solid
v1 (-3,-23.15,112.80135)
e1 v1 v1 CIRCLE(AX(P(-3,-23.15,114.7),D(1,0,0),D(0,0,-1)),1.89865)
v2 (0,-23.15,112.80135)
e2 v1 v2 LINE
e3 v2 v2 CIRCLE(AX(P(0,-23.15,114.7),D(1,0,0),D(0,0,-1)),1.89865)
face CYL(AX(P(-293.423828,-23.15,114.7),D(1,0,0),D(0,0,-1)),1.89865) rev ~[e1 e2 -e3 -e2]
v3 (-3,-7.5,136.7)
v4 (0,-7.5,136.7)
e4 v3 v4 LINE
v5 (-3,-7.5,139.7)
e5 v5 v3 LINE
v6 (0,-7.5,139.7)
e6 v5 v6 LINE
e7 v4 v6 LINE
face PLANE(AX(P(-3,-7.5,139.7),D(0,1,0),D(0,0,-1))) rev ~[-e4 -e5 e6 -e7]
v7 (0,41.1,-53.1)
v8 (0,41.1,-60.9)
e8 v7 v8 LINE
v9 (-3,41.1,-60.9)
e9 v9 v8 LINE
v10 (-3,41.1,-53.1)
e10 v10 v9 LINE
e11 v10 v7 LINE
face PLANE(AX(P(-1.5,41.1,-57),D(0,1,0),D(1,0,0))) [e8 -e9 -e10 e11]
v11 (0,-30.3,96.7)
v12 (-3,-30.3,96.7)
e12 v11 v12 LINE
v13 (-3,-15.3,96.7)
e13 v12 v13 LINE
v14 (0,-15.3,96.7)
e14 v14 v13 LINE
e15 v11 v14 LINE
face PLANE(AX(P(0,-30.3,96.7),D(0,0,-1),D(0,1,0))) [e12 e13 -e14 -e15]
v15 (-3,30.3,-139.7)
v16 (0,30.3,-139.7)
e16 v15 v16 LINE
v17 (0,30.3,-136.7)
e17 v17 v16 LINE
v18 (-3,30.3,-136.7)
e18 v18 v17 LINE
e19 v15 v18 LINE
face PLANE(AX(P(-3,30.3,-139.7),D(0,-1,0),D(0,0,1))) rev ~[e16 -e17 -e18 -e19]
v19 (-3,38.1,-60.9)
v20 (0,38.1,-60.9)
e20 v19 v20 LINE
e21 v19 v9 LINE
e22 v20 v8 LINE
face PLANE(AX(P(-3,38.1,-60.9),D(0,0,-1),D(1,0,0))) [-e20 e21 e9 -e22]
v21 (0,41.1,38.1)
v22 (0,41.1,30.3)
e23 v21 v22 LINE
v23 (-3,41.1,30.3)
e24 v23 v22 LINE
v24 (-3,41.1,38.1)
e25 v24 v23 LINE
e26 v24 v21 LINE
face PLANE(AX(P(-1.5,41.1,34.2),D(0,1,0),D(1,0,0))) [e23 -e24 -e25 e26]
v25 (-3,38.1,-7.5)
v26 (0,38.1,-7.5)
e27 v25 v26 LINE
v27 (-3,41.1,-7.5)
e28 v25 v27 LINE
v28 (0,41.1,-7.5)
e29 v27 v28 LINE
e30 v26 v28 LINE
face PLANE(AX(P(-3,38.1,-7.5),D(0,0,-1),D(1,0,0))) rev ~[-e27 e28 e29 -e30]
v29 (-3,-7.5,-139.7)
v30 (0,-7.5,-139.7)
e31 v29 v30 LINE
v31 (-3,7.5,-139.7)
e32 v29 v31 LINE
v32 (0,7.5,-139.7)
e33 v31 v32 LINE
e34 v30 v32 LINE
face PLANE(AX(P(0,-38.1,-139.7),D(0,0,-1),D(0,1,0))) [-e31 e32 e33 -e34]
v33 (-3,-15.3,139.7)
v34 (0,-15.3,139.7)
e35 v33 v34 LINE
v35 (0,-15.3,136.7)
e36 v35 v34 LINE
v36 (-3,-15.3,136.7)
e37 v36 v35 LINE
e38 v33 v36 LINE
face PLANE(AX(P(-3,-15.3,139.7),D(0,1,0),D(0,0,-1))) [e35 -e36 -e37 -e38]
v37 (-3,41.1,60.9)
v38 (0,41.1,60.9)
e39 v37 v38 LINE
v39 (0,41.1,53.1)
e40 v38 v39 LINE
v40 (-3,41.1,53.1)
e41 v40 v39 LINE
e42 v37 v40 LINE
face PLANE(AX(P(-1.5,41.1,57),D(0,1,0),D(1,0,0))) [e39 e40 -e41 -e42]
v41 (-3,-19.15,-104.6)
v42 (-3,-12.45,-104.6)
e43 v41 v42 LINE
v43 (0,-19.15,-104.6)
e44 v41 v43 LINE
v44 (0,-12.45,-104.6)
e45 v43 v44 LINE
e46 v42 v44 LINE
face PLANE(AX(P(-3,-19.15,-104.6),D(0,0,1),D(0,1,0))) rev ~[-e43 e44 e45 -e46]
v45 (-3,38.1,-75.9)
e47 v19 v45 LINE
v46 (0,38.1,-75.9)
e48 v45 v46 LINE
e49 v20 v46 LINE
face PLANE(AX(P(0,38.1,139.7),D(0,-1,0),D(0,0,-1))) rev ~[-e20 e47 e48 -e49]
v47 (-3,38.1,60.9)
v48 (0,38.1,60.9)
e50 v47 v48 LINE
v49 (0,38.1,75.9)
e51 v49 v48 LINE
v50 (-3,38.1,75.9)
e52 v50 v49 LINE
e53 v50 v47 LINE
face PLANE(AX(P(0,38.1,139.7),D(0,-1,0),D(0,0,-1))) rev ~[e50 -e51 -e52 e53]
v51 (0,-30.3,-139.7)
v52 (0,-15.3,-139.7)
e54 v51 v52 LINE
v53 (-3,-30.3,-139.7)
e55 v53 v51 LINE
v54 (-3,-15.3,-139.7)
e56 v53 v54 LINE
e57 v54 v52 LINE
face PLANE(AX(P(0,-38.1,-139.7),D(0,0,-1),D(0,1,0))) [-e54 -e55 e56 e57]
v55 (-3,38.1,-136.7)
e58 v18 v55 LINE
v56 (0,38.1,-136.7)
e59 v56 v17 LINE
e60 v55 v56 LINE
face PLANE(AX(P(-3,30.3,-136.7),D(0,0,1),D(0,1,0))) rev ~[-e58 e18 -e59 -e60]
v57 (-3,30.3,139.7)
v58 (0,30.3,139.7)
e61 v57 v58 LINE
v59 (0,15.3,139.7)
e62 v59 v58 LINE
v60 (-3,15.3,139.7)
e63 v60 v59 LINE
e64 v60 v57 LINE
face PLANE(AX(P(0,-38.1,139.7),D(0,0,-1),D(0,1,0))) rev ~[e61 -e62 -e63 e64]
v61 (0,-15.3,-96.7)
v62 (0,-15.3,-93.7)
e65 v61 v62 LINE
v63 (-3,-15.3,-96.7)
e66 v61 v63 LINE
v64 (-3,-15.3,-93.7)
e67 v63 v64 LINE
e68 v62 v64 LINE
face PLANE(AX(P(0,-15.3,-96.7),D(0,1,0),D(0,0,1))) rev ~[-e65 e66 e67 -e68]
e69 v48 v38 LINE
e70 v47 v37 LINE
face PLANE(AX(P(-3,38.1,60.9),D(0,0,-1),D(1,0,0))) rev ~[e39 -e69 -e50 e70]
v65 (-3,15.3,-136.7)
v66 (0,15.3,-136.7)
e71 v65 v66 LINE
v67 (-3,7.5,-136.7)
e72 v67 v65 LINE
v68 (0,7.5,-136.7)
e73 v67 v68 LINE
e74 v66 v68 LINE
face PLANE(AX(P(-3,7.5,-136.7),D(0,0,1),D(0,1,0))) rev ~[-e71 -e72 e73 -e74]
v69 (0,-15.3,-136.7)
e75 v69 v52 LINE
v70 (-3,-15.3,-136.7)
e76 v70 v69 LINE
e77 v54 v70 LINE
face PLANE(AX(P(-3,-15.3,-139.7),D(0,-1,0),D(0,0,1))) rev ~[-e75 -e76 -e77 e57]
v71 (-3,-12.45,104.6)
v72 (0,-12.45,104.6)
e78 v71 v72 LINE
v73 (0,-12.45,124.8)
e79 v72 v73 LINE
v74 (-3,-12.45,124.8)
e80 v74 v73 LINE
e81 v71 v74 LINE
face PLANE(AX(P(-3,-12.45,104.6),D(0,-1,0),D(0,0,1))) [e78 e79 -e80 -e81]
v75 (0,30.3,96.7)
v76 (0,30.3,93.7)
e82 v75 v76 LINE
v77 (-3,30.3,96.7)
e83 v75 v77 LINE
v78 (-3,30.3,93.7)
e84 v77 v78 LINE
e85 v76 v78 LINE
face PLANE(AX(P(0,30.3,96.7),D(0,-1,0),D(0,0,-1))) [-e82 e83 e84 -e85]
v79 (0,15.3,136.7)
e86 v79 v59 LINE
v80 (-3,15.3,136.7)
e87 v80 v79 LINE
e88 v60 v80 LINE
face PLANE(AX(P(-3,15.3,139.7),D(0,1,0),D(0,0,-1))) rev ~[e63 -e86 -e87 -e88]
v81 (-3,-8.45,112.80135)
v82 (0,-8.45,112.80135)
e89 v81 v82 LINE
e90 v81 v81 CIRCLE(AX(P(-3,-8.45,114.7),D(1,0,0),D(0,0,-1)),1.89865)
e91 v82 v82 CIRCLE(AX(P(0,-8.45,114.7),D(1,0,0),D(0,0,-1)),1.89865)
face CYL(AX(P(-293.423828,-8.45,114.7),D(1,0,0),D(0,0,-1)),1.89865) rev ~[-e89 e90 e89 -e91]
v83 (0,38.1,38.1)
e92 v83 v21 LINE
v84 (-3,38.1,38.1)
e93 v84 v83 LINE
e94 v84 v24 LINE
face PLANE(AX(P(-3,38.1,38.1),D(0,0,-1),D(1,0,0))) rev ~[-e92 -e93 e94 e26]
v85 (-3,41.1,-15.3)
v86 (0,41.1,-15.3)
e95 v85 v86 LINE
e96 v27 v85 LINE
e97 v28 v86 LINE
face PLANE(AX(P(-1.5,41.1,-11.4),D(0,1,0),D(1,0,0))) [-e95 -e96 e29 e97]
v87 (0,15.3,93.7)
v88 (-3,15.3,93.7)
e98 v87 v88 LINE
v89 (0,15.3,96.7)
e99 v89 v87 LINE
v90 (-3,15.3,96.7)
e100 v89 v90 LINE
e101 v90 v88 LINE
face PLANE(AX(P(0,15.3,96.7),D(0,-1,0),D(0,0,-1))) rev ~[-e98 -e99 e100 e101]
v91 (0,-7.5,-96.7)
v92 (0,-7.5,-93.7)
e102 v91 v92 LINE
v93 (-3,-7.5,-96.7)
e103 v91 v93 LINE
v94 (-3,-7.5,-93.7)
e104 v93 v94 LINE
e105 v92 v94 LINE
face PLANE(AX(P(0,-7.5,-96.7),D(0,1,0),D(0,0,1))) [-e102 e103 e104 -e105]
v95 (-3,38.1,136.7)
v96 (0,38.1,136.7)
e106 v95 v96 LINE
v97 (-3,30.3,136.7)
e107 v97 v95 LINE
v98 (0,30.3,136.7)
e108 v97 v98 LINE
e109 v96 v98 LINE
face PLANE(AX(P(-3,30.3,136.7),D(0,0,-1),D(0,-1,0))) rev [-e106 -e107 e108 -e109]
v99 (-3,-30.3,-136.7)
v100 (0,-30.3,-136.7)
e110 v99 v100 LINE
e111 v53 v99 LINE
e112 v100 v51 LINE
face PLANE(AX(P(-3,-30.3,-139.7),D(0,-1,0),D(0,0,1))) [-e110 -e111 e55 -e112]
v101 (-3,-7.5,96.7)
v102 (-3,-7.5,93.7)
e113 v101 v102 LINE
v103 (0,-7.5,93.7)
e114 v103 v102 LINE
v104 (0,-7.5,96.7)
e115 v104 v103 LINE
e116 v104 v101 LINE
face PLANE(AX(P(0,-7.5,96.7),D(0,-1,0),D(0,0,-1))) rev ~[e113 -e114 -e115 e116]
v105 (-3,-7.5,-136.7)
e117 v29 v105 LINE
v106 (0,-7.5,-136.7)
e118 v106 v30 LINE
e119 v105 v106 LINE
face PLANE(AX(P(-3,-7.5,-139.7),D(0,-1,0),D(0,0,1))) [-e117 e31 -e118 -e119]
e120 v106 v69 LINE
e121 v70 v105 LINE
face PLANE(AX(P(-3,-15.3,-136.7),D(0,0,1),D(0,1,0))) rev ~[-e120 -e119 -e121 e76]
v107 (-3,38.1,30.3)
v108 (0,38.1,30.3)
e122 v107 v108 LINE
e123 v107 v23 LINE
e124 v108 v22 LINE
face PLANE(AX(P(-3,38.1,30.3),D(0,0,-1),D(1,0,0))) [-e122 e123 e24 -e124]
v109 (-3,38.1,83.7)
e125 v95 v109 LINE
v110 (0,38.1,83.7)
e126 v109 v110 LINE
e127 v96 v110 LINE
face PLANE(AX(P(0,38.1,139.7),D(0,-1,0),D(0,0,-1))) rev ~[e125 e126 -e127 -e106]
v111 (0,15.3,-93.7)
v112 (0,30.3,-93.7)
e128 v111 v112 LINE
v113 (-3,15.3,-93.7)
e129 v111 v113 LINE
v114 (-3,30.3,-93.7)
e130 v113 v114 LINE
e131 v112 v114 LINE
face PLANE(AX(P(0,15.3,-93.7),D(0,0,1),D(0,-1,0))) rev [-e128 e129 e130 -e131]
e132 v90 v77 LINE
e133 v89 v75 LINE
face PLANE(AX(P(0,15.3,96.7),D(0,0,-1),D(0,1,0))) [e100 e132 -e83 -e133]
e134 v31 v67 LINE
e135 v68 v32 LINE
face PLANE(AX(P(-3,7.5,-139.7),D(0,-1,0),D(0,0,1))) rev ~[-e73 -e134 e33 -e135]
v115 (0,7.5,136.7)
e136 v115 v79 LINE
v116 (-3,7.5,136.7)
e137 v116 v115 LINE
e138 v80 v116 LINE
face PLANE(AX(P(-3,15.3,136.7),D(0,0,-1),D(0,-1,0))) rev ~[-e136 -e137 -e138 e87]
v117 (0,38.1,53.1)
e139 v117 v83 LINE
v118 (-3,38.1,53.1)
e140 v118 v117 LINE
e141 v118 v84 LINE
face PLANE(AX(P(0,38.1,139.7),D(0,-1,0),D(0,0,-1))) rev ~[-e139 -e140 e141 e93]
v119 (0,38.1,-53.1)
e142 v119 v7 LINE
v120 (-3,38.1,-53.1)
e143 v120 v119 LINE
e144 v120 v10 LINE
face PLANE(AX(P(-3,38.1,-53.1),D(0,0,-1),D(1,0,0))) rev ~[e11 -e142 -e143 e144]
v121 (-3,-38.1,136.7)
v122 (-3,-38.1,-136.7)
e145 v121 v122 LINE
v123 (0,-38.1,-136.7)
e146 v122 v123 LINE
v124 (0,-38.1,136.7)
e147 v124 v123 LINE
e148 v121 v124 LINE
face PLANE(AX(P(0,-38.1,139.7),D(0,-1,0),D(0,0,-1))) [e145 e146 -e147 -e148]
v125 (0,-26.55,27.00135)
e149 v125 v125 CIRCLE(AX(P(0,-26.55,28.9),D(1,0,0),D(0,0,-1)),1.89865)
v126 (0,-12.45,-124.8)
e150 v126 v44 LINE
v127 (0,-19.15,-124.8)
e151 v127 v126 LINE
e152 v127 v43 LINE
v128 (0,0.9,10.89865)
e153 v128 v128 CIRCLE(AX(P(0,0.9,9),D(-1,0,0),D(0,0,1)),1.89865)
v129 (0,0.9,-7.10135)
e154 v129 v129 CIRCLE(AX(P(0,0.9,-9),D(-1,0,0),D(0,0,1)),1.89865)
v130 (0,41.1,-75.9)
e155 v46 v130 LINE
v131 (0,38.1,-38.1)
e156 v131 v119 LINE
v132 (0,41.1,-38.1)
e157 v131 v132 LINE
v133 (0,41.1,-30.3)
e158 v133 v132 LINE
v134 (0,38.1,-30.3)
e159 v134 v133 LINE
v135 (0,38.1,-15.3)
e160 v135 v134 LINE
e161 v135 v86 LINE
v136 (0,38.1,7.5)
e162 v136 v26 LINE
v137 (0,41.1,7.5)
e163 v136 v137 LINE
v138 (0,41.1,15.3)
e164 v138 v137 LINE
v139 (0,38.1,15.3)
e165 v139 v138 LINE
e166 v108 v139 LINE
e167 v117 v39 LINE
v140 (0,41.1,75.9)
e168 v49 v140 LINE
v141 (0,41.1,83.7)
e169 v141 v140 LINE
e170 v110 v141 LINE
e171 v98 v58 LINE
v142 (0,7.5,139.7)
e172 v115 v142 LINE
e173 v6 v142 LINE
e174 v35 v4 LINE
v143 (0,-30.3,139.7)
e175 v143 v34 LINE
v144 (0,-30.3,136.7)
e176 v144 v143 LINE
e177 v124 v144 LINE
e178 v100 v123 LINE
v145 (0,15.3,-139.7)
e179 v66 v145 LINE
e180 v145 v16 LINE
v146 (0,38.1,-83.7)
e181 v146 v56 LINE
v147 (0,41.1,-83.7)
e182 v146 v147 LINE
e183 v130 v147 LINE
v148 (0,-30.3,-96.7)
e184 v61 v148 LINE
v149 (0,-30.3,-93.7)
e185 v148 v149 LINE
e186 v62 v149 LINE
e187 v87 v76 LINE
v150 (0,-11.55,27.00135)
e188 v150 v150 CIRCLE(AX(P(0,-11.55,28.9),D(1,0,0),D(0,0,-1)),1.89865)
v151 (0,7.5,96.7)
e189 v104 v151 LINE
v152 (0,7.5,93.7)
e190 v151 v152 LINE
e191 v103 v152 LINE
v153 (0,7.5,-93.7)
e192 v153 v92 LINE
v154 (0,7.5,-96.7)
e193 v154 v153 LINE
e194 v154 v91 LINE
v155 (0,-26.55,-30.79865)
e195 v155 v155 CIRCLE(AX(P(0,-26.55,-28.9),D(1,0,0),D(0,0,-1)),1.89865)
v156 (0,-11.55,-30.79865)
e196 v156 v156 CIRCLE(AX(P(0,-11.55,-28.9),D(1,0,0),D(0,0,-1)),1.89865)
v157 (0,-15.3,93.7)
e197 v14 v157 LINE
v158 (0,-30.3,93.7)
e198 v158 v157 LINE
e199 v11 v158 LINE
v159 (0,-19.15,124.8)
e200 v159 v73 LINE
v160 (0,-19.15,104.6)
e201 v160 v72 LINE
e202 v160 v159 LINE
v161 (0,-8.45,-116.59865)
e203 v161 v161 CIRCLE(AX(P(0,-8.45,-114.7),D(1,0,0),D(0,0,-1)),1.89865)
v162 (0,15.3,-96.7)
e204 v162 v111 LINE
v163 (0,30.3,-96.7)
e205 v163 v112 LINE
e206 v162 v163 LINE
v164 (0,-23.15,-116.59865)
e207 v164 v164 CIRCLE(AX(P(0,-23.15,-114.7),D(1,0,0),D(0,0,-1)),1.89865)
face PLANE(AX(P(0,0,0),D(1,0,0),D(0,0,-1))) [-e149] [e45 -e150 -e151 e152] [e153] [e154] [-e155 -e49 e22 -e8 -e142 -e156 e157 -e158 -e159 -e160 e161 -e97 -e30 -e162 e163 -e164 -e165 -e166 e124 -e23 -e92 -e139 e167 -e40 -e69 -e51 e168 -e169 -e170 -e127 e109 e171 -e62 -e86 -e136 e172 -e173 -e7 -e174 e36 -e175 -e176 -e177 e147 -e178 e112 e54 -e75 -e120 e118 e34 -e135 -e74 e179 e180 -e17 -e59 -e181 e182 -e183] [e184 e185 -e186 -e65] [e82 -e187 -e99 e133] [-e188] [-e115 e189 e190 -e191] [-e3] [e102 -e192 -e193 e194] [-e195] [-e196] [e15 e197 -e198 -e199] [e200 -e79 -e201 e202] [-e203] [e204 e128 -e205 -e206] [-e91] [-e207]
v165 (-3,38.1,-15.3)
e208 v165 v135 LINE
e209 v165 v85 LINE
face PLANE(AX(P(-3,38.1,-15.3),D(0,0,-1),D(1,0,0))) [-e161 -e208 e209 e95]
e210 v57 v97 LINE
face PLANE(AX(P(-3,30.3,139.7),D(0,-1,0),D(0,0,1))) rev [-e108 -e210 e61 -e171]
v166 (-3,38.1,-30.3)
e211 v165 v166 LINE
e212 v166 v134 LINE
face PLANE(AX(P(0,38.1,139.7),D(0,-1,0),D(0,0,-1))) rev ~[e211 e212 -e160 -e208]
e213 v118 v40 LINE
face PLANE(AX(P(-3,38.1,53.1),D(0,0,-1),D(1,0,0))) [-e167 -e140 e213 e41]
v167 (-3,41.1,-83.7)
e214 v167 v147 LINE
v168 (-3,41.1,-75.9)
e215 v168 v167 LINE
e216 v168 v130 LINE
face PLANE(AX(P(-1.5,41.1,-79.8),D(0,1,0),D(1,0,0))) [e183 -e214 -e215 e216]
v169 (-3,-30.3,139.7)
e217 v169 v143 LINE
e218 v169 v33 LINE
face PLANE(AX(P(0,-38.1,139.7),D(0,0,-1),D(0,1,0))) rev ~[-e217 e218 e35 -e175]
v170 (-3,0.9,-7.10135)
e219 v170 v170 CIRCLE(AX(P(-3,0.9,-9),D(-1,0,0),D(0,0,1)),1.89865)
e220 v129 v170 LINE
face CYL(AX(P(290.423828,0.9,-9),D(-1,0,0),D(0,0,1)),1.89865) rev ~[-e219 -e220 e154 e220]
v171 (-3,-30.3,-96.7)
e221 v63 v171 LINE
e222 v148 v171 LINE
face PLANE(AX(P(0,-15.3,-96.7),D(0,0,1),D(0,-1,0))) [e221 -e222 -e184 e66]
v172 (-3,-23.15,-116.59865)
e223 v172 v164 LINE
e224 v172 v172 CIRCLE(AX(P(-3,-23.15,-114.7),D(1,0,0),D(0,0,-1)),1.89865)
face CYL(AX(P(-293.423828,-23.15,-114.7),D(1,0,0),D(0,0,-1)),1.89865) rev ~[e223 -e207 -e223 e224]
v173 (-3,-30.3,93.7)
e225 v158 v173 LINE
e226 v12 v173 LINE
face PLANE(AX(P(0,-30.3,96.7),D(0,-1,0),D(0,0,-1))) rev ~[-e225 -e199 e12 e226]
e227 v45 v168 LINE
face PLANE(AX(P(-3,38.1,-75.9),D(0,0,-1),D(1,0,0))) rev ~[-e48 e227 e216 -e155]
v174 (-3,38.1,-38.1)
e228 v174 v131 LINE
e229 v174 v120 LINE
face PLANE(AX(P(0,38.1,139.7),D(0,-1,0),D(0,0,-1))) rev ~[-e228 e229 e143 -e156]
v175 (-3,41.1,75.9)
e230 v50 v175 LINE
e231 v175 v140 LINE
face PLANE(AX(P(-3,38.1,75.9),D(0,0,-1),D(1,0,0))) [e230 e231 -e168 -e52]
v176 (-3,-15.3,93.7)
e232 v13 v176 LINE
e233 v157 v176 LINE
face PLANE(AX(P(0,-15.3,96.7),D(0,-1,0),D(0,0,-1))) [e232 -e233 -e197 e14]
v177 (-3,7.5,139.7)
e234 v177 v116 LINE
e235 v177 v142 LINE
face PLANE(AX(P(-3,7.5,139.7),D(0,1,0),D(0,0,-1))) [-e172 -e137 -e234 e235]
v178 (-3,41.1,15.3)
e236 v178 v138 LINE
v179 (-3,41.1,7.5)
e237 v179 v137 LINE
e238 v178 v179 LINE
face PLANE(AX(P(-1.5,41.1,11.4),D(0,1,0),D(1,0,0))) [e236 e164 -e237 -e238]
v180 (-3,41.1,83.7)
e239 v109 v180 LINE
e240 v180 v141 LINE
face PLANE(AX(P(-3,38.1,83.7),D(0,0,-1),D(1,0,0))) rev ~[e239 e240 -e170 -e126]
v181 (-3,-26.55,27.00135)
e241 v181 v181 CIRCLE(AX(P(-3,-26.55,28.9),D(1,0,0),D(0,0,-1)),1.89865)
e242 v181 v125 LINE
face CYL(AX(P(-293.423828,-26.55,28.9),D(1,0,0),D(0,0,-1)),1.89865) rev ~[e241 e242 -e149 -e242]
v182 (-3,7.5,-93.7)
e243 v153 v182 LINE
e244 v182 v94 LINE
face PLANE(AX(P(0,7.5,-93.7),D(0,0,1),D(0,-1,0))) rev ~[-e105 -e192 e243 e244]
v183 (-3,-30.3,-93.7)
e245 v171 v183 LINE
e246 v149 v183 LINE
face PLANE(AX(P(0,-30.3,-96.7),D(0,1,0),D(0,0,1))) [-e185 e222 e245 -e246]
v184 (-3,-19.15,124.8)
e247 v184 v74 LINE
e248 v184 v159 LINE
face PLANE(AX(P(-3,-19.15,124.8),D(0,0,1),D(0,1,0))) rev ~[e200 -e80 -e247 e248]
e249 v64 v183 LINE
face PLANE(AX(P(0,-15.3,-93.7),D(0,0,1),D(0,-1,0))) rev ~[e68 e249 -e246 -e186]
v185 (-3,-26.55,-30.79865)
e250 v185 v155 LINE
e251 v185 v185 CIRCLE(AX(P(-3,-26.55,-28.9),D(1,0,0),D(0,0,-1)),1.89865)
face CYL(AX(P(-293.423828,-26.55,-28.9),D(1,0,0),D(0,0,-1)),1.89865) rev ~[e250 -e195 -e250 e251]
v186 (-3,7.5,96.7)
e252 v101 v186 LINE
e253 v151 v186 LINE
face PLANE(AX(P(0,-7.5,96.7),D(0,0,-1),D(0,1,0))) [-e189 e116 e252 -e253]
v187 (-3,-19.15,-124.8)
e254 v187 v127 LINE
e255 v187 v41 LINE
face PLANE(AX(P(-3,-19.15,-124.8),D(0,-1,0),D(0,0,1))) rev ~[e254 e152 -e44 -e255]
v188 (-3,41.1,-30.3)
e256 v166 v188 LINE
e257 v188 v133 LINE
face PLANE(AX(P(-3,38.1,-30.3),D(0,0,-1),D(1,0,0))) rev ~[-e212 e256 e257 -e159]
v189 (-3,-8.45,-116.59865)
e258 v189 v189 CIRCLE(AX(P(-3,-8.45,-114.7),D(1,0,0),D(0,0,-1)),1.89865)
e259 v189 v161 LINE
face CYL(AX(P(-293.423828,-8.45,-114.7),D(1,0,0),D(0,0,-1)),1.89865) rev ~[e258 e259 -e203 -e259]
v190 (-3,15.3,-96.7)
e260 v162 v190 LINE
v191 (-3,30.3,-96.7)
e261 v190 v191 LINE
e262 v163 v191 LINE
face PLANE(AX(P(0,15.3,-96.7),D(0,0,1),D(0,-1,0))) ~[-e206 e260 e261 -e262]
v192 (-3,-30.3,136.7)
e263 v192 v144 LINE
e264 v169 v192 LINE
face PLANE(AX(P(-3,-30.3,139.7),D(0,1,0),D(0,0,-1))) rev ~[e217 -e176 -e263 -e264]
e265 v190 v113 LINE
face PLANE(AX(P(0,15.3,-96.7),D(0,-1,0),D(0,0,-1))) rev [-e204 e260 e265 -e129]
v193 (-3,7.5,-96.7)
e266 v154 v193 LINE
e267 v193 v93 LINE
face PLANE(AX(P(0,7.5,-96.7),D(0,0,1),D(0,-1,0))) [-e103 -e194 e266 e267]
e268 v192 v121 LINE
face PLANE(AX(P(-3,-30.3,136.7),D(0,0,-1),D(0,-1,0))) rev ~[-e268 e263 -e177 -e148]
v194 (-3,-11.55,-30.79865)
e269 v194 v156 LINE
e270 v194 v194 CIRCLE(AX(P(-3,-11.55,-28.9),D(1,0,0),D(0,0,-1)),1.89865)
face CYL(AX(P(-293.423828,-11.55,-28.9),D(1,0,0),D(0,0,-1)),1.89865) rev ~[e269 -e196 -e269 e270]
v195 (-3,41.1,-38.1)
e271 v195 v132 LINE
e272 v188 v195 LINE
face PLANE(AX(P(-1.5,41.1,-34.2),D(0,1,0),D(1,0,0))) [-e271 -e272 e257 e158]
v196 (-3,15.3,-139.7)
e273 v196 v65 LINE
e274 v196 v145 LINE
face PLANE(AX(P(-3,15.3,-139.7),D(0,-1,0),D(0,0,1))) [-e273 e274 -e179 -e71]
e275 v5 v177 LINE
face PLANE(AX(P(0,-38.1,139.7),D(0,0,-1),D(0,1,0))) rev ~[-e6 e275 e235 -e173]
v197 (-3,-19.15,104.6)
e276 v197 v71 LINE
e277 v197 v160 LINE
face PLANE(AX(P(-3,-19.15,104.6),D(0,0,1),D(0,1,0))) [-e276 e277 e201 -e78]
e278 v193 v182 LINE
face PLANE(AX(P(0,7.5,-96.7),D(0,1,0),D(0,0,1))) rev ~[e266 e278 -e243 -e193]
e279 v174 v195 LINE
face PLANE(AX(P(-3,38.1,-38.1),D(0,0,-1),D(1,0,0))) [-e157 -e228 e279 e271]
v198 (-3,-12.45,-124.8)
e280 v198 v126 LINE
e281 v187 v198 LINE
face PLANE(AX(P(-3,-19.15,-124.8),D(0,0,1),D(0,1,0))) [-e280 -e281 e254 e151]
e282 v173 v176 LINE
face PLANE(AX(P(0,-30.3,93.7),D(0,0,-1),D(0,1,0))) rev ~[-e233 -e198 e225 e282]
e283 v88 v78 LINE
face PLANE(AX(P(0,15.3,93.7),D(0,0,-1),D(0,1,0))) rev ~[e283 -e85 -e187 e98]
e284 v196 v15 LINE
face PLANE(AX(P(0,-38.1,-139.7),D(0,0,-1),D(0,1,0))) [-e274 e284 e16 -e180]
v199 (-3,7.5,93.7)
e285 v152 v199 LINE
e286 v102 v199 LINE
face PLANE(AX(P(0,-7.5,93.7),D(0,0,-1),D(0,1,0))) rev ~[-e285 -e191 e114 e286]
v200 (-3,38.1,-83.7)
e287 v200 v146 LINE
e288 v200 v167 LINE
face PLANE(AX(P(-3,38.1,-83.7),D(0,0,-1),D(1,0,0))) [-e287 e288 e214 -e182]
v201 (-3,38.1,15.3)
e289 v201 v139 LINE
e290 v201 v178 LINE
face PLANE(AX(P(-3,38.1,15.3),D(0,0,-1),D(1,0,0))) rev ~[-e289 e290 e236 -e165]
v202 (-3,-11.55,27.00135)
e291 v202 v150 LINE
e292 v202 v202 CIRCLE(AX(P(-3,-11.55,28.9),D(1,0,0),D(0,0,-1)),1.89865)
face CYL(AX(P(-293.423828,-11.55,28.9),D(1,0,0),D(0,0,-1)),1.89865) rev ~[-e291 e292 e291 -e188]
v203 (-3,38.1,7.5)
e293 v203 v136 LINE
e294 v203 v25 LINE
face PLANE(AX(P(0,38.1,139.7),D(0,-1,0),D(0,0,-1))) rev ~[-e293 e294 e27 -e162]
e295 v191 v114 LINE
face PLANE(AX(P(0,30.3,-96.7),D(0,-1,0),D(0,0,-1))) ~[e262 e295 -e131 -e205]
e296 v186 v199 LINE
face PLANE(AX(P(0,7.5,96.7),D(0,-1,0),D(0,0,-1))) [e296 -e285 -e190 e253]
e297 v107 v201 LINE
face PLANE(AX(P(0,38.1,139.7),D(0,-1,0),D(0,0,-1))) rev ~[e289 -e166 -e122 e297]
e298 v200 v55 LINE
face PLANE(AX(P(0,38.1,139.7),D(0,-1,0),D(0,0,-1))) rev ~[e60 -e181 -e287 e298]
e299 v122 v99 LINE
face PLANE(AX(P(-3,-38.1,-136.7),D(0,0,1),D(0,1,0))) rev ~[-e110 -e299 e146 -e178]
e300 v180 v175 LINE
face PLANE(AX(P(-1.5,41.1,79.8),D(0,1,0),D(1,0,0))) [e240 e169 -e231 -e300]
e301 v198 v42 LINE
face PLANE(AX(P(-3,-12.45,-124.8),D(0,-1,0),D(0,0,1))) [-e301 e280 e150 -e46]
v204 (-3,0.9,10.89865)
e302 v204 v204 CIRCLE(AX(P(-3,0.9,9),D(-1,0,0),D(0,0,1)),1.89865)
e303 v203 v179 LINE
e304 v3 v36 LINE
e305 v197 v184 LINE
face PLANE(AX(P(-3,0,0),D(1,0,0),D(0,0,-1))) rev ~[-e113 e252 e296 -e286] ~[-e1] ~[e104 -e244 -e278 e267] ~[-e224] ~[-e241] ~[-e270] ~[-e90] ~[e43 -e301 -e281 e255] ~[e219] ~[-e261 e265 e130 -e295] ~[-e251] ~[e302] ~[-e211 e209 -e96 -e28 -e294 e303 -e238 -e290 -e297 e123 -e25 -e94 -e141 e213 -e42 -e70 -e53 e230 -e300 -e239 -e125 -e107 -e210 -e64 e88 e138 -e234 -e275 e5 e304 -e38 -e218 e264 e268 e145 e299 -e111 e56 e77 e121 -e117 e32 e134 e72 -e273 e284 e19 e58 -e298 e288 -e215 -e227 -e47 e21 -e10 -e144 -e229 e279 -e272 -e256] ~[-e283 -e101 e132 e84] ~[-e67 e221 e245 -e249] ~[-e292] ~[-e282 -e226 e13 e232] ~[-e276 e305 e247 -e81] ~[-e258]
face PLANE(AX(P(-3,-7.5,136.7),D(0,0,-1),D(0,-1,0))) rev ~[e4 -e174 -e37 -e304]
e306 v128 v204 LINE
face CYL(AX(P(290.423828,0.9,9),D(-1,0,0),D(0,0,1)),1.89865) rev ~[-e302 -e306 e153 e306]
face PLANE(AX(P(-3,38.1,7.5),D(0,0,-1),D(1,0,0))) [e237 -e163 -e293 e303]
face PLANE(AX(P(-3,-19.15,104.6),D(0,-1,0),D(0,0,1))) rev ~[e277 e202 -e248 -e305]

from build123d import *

# Parameters (mm, degrees)
SKETCH1_W               = 279.4
SKETCH1_H               = 76.2
BOSS_EXTRUDE1_DEPTH     = 3
SKETCH3_W               = 3
SKETCH3_H               = 7.8
CUT_EXTRUDE1_DEPTH      = 145.833352512
LPATTERN1_COUNT         = 4
LPATTERN1_PITCH         = 22.8
MIRROR1_COPY_1_SKETCH_W = 3
MIRROR1_COPY_1_SKETCH_H = 7.8
MIRROR1_COPY_1_DEPTH    = 145.833352512
MIRROR1_COPY_2_SKETCH_W = 3
MIRROR1_COPY_2_SKETCH_H = 7.8
MIRROR1_COPY_2_DEPTH    = 145.833352512
MIRROR1_COPY_3_SKETCH_W = 3
MIRROR1_COPY_3_SKETCH_H = 7.8
MIRROR1_COPY_3_DEPTH    = 145.833352512
SKETCH4_W               = 3
SKETCH4_H               = 15
CUT_EXTRUDE2_DEPTH      = 10
LPATTERN2_COUNT         = 3
LPATTERN2_PITCH         = 22.8
MIRROR2_COPY_1_SKETCH_W = 3
MIRROR2_COPY_1_SKETCH_H = 15
MIRROR2_COPY_1_DEPTH    = 10
MIRROR2_COPY_2_SKETCH_W = 3
MIRROR2_COPY_2_SKETCH_H = 15
MIRROR2_COPY_2_DEPTH    = 10
SKETCH5_W               = 3
SKETCH5_H               = 7.8
BOSS_EXTRUDE2_DEPTH     = 3
LPATTERN3_COUNT         = 8
LPATTERN3_PITCH         = 22.8
F_6_CLEARANCE_HOLE1_D   = 3.7973
F_6_CLEARANCE_HOLE2_D   = 3.7973
CUT_EXTRUDE3_REACH      = 147.651
SKETCH10_W              = 20.2
SKETCH10_H              = 6.7
F_6_CLEARANCE_HOLE3_D   = 3.7973


with BuildPart() as part:
    # Sketch1 → Boss-Extrude1 (new body)
    with BuildSketch(Plane(origin=(0, 0, 0), x_dir=(0, 0, -1), z_dir=(1, 0, 0))):
        Rectangle(SKETCH1_W, SKETCH1_H)
    extrude(amount=-BOSS_EXTRUDE1_DEPTH)

    # Sketch3 → Cut-Extrude1 (cut, through all)
    with BuildSketch(Plane.ZY.offset(3)):
        with Locations((-138.2, 34.2)):
            Rectangle(SKETCH3_W, SKETCH3_H)
    cut_extrude1 = extrude(amount=-CUT_EXTRUDE1_DEPTH, mode=Mode.SUBTRACT)

    # LPattern1: Cut-Extrude1 ×4
    with Locations(*[(0, -i * LPATTERN1_PITCH, 0) for i in range(1, LPATTERN1_COUNT)]):
        add(cut_extrude1, mode=Mode.SUBTRACT)

    # Mirror1: Cut-Extrude1 across plane
    add(cut_extrude1.mirror(Plane.XY), mode=Mode.SUBTRACT)

    # Mirror1 copy 1 sketch → Mirror1 copy 1 (cut, through all)
    with BuildSketch(Plane(origin=(-3, -22.8, 0), x_dir=(0, 0, -1), z_dir=(-1, 0, 0))):
        with Locations((-138.2, -34.2)):
            Rectangle(MIRROR1_COPY_1_SKETCH_W, MIRROR1_COPY_1_SKETCH_H)
    extrude(amount=-MIRROR1_COPY_1_DEPTH, mode=Mode.SUBTRACT)

    # Mirror1 copy 2 sketch → Mirror1 copy 2 (cut, through all)
    with BuildSketch(Plane(origin=(-3, -45.6, 0), x_dir=(0, 0, -1), z_dir=(-1, 0, 0))):
        with Locations((-138.2, -34.2)):
            Rectangle(MIRROR1_COPY_2_SKETCH_W, MIRROR1_COPY_2_SKETCH_H)
    extrude(amount=-MIRROR1_COPY_2_DEPTH, mode=Mode.SUBTRACT)

    # Mirror1 copy 3 sketch → Mirror1 copy 3 (cut, through all)
    with BuildSketch(Plane(origin=(-3, -68.4, 0), x_dir=(0, 0, -1), z_dir=(-1, 0, 0))):
        with Locations((-138.2, -34.2)):
            Rectangle(MIRROR1_COPY_3_SKETCH_W, MIRROR1_COPY_3_SKETCH_H)
    extrude(amount=-MIRROR1_COPY_3_DEPTH, mode=Mode.SUBTRACT)

    # Sketch4 → Cut-Extrude2 (cut)
    with BuildSketch(Plane(origin=(0, 0, 0), x_dir=(0, 0, -1), z_dir=(1, 0, 0))):
        with Locations((-95.2, 22.8)):
            Rectangle(SKETCH4_W, SKETCH4_H)
    cut_extrude2 = extrude(amount=-CUT_EXTRUDE2_DEPTH, mode=Mode.SUBTRACT)

    # LPattern2: Cut-Extrude2 ×3
    with Locations(*[(0, -i * LPATTERN2_PITCH, 0) for i in range(1, LPATTERN2_COUNT)]):
        add(cut_extrude2, mode=Mode.SUBTRACT)

    # Mirror2: Cut-Extrude2 across plane
    add(cut_extrude2.mirror(Plane.XY), mode=Mode.SUBTRACT)

    # Mirror2 copy 1 sketch → Mirror2 copy 1 (cut)
    with BuildSketch(Plane(origin=(0, -22.8, 0), x_dir=(0, 0, 1), z_dir=(1, 0, 0))):
        with Locations((-95.2, -22.8)):
            Rectangle(MIRROR2_COPY_1_SKETCH_W, MIRROR2_COPY_1_SKETCH_H)
    extrude(amount=-MIRROR2_COPY_1_DEPTH, mode=Mode.SUBTRACT)

    # Mirror2 copy 2 sketch → Mirror2 copy 2 (cut)
    with BuildSketch(Plane(origin=(0, -45.6, 0), x_dir=(0, 0, 1), z_dir=(1, 0, 0))):
        with Locations((-95.2, -22.8)):
            Rectangle(MIRROR2_COPY_2_SKETCH_W, MIRROR2_COPY_2_SKETCH_H)
    extrude(amount=-MIRROR2_COPY_2_DEPTH, mode=Mode.SUBTRACT)

    # Sketch5 → Boss-Extrude2 (add)
    with BuildSketch(Plane(origin=(0, 38.1, 0), x_dir=(1, 0, 0), z_dir=(0, 1, 0))):
        with Locations((-1.5, -79.8)):
            Rectangle(SKETCH5_W, SKETCH5_H)
    boss_extrude2 = extrude(amount=BOSS_EXTRUDE2_DEPTH)

    # LPattern3: Boss-Extrude2 ×8
    with Locations(*[(0, 0, -i * LPATTERN3_PITCH) for i in range(1, LPATTERN3_COUNT)]):
        add(boss_extrude2)

    # #6 Clearance Hole1 (through all)
    with Locations(Plane.ZY.offset(3)):
        with Locations((-28.9, -11.55), (-28.9, -26.55), (28.9, -26.55), (28.9, -11.55)):
            Hole(F_6_CLEARANCE_HOLE1_D / 2)

    # #6 Clearance Hole2 (through all)
    with Locations(Plane(origin=(0, 0, 0), x_dir=(0, 0, -1), z_dir=(1, 0, 0))):
        with Locations((-9, 0.9), (9, 0.9)):
            Hole(F_6_CLEARANCE_HOLE2_D / 2)

    # Sketch10 → Cut-Extrude3 (cut, up to next)
    with BuildSketch(Plane.ZY.offset(3), mode=Mode.PRIVATE) as cut_extrude3_sk1:
        with Locations((114.7, -15.8)):
            Rectangle(SKETCH10_W, SKETCH10_H)
    cut_extrude3_tool1 = extrude(cut_extrude3_sk1.sketch, amount=-CUT_EXTRUDE3_REACH, mode=Mode.PRIVATE) & part.part
    # Sketch10 → Cut-Extrude3 (cut, up to next)
    with BuildSketch(Plane.ZY.offset(3), mode=Mode.PRIVATE) as cut_extrude3_sk2:
        with Locations((-114.7, -15.8)):
            Rectangle(SKETCH10_W, SKETCH10_H)
    cut_extrude3_tool2 = extrude(cut_extrude3_sk2.sketch, amount=-CUT_EXTRUDE3_REACH, mode=Mode.PRIVATE) & part.part
    add(cut_extrude3_tool1.solids().sort_by_distance((-3, -15.8, 114.7))[0], mode=Mode.SUBTRACT)
    add(cut_extrude3_tool2.solids().sort_by_distance((-3, -15.8, -114.7))[0], mode=Mode.SUBTRACT)

    # #6 Clearance Hole3 (through all)
    with Locations(Plane.ZY.offset(3)):
        with Locations((-114.7, -8.45), (-114.7, -23.15), (114.7, -23.15), (114.7, -8.45)):
            Hole(F_6_CLEARANCE_HOLE3_D / 2)


solid = part.part
